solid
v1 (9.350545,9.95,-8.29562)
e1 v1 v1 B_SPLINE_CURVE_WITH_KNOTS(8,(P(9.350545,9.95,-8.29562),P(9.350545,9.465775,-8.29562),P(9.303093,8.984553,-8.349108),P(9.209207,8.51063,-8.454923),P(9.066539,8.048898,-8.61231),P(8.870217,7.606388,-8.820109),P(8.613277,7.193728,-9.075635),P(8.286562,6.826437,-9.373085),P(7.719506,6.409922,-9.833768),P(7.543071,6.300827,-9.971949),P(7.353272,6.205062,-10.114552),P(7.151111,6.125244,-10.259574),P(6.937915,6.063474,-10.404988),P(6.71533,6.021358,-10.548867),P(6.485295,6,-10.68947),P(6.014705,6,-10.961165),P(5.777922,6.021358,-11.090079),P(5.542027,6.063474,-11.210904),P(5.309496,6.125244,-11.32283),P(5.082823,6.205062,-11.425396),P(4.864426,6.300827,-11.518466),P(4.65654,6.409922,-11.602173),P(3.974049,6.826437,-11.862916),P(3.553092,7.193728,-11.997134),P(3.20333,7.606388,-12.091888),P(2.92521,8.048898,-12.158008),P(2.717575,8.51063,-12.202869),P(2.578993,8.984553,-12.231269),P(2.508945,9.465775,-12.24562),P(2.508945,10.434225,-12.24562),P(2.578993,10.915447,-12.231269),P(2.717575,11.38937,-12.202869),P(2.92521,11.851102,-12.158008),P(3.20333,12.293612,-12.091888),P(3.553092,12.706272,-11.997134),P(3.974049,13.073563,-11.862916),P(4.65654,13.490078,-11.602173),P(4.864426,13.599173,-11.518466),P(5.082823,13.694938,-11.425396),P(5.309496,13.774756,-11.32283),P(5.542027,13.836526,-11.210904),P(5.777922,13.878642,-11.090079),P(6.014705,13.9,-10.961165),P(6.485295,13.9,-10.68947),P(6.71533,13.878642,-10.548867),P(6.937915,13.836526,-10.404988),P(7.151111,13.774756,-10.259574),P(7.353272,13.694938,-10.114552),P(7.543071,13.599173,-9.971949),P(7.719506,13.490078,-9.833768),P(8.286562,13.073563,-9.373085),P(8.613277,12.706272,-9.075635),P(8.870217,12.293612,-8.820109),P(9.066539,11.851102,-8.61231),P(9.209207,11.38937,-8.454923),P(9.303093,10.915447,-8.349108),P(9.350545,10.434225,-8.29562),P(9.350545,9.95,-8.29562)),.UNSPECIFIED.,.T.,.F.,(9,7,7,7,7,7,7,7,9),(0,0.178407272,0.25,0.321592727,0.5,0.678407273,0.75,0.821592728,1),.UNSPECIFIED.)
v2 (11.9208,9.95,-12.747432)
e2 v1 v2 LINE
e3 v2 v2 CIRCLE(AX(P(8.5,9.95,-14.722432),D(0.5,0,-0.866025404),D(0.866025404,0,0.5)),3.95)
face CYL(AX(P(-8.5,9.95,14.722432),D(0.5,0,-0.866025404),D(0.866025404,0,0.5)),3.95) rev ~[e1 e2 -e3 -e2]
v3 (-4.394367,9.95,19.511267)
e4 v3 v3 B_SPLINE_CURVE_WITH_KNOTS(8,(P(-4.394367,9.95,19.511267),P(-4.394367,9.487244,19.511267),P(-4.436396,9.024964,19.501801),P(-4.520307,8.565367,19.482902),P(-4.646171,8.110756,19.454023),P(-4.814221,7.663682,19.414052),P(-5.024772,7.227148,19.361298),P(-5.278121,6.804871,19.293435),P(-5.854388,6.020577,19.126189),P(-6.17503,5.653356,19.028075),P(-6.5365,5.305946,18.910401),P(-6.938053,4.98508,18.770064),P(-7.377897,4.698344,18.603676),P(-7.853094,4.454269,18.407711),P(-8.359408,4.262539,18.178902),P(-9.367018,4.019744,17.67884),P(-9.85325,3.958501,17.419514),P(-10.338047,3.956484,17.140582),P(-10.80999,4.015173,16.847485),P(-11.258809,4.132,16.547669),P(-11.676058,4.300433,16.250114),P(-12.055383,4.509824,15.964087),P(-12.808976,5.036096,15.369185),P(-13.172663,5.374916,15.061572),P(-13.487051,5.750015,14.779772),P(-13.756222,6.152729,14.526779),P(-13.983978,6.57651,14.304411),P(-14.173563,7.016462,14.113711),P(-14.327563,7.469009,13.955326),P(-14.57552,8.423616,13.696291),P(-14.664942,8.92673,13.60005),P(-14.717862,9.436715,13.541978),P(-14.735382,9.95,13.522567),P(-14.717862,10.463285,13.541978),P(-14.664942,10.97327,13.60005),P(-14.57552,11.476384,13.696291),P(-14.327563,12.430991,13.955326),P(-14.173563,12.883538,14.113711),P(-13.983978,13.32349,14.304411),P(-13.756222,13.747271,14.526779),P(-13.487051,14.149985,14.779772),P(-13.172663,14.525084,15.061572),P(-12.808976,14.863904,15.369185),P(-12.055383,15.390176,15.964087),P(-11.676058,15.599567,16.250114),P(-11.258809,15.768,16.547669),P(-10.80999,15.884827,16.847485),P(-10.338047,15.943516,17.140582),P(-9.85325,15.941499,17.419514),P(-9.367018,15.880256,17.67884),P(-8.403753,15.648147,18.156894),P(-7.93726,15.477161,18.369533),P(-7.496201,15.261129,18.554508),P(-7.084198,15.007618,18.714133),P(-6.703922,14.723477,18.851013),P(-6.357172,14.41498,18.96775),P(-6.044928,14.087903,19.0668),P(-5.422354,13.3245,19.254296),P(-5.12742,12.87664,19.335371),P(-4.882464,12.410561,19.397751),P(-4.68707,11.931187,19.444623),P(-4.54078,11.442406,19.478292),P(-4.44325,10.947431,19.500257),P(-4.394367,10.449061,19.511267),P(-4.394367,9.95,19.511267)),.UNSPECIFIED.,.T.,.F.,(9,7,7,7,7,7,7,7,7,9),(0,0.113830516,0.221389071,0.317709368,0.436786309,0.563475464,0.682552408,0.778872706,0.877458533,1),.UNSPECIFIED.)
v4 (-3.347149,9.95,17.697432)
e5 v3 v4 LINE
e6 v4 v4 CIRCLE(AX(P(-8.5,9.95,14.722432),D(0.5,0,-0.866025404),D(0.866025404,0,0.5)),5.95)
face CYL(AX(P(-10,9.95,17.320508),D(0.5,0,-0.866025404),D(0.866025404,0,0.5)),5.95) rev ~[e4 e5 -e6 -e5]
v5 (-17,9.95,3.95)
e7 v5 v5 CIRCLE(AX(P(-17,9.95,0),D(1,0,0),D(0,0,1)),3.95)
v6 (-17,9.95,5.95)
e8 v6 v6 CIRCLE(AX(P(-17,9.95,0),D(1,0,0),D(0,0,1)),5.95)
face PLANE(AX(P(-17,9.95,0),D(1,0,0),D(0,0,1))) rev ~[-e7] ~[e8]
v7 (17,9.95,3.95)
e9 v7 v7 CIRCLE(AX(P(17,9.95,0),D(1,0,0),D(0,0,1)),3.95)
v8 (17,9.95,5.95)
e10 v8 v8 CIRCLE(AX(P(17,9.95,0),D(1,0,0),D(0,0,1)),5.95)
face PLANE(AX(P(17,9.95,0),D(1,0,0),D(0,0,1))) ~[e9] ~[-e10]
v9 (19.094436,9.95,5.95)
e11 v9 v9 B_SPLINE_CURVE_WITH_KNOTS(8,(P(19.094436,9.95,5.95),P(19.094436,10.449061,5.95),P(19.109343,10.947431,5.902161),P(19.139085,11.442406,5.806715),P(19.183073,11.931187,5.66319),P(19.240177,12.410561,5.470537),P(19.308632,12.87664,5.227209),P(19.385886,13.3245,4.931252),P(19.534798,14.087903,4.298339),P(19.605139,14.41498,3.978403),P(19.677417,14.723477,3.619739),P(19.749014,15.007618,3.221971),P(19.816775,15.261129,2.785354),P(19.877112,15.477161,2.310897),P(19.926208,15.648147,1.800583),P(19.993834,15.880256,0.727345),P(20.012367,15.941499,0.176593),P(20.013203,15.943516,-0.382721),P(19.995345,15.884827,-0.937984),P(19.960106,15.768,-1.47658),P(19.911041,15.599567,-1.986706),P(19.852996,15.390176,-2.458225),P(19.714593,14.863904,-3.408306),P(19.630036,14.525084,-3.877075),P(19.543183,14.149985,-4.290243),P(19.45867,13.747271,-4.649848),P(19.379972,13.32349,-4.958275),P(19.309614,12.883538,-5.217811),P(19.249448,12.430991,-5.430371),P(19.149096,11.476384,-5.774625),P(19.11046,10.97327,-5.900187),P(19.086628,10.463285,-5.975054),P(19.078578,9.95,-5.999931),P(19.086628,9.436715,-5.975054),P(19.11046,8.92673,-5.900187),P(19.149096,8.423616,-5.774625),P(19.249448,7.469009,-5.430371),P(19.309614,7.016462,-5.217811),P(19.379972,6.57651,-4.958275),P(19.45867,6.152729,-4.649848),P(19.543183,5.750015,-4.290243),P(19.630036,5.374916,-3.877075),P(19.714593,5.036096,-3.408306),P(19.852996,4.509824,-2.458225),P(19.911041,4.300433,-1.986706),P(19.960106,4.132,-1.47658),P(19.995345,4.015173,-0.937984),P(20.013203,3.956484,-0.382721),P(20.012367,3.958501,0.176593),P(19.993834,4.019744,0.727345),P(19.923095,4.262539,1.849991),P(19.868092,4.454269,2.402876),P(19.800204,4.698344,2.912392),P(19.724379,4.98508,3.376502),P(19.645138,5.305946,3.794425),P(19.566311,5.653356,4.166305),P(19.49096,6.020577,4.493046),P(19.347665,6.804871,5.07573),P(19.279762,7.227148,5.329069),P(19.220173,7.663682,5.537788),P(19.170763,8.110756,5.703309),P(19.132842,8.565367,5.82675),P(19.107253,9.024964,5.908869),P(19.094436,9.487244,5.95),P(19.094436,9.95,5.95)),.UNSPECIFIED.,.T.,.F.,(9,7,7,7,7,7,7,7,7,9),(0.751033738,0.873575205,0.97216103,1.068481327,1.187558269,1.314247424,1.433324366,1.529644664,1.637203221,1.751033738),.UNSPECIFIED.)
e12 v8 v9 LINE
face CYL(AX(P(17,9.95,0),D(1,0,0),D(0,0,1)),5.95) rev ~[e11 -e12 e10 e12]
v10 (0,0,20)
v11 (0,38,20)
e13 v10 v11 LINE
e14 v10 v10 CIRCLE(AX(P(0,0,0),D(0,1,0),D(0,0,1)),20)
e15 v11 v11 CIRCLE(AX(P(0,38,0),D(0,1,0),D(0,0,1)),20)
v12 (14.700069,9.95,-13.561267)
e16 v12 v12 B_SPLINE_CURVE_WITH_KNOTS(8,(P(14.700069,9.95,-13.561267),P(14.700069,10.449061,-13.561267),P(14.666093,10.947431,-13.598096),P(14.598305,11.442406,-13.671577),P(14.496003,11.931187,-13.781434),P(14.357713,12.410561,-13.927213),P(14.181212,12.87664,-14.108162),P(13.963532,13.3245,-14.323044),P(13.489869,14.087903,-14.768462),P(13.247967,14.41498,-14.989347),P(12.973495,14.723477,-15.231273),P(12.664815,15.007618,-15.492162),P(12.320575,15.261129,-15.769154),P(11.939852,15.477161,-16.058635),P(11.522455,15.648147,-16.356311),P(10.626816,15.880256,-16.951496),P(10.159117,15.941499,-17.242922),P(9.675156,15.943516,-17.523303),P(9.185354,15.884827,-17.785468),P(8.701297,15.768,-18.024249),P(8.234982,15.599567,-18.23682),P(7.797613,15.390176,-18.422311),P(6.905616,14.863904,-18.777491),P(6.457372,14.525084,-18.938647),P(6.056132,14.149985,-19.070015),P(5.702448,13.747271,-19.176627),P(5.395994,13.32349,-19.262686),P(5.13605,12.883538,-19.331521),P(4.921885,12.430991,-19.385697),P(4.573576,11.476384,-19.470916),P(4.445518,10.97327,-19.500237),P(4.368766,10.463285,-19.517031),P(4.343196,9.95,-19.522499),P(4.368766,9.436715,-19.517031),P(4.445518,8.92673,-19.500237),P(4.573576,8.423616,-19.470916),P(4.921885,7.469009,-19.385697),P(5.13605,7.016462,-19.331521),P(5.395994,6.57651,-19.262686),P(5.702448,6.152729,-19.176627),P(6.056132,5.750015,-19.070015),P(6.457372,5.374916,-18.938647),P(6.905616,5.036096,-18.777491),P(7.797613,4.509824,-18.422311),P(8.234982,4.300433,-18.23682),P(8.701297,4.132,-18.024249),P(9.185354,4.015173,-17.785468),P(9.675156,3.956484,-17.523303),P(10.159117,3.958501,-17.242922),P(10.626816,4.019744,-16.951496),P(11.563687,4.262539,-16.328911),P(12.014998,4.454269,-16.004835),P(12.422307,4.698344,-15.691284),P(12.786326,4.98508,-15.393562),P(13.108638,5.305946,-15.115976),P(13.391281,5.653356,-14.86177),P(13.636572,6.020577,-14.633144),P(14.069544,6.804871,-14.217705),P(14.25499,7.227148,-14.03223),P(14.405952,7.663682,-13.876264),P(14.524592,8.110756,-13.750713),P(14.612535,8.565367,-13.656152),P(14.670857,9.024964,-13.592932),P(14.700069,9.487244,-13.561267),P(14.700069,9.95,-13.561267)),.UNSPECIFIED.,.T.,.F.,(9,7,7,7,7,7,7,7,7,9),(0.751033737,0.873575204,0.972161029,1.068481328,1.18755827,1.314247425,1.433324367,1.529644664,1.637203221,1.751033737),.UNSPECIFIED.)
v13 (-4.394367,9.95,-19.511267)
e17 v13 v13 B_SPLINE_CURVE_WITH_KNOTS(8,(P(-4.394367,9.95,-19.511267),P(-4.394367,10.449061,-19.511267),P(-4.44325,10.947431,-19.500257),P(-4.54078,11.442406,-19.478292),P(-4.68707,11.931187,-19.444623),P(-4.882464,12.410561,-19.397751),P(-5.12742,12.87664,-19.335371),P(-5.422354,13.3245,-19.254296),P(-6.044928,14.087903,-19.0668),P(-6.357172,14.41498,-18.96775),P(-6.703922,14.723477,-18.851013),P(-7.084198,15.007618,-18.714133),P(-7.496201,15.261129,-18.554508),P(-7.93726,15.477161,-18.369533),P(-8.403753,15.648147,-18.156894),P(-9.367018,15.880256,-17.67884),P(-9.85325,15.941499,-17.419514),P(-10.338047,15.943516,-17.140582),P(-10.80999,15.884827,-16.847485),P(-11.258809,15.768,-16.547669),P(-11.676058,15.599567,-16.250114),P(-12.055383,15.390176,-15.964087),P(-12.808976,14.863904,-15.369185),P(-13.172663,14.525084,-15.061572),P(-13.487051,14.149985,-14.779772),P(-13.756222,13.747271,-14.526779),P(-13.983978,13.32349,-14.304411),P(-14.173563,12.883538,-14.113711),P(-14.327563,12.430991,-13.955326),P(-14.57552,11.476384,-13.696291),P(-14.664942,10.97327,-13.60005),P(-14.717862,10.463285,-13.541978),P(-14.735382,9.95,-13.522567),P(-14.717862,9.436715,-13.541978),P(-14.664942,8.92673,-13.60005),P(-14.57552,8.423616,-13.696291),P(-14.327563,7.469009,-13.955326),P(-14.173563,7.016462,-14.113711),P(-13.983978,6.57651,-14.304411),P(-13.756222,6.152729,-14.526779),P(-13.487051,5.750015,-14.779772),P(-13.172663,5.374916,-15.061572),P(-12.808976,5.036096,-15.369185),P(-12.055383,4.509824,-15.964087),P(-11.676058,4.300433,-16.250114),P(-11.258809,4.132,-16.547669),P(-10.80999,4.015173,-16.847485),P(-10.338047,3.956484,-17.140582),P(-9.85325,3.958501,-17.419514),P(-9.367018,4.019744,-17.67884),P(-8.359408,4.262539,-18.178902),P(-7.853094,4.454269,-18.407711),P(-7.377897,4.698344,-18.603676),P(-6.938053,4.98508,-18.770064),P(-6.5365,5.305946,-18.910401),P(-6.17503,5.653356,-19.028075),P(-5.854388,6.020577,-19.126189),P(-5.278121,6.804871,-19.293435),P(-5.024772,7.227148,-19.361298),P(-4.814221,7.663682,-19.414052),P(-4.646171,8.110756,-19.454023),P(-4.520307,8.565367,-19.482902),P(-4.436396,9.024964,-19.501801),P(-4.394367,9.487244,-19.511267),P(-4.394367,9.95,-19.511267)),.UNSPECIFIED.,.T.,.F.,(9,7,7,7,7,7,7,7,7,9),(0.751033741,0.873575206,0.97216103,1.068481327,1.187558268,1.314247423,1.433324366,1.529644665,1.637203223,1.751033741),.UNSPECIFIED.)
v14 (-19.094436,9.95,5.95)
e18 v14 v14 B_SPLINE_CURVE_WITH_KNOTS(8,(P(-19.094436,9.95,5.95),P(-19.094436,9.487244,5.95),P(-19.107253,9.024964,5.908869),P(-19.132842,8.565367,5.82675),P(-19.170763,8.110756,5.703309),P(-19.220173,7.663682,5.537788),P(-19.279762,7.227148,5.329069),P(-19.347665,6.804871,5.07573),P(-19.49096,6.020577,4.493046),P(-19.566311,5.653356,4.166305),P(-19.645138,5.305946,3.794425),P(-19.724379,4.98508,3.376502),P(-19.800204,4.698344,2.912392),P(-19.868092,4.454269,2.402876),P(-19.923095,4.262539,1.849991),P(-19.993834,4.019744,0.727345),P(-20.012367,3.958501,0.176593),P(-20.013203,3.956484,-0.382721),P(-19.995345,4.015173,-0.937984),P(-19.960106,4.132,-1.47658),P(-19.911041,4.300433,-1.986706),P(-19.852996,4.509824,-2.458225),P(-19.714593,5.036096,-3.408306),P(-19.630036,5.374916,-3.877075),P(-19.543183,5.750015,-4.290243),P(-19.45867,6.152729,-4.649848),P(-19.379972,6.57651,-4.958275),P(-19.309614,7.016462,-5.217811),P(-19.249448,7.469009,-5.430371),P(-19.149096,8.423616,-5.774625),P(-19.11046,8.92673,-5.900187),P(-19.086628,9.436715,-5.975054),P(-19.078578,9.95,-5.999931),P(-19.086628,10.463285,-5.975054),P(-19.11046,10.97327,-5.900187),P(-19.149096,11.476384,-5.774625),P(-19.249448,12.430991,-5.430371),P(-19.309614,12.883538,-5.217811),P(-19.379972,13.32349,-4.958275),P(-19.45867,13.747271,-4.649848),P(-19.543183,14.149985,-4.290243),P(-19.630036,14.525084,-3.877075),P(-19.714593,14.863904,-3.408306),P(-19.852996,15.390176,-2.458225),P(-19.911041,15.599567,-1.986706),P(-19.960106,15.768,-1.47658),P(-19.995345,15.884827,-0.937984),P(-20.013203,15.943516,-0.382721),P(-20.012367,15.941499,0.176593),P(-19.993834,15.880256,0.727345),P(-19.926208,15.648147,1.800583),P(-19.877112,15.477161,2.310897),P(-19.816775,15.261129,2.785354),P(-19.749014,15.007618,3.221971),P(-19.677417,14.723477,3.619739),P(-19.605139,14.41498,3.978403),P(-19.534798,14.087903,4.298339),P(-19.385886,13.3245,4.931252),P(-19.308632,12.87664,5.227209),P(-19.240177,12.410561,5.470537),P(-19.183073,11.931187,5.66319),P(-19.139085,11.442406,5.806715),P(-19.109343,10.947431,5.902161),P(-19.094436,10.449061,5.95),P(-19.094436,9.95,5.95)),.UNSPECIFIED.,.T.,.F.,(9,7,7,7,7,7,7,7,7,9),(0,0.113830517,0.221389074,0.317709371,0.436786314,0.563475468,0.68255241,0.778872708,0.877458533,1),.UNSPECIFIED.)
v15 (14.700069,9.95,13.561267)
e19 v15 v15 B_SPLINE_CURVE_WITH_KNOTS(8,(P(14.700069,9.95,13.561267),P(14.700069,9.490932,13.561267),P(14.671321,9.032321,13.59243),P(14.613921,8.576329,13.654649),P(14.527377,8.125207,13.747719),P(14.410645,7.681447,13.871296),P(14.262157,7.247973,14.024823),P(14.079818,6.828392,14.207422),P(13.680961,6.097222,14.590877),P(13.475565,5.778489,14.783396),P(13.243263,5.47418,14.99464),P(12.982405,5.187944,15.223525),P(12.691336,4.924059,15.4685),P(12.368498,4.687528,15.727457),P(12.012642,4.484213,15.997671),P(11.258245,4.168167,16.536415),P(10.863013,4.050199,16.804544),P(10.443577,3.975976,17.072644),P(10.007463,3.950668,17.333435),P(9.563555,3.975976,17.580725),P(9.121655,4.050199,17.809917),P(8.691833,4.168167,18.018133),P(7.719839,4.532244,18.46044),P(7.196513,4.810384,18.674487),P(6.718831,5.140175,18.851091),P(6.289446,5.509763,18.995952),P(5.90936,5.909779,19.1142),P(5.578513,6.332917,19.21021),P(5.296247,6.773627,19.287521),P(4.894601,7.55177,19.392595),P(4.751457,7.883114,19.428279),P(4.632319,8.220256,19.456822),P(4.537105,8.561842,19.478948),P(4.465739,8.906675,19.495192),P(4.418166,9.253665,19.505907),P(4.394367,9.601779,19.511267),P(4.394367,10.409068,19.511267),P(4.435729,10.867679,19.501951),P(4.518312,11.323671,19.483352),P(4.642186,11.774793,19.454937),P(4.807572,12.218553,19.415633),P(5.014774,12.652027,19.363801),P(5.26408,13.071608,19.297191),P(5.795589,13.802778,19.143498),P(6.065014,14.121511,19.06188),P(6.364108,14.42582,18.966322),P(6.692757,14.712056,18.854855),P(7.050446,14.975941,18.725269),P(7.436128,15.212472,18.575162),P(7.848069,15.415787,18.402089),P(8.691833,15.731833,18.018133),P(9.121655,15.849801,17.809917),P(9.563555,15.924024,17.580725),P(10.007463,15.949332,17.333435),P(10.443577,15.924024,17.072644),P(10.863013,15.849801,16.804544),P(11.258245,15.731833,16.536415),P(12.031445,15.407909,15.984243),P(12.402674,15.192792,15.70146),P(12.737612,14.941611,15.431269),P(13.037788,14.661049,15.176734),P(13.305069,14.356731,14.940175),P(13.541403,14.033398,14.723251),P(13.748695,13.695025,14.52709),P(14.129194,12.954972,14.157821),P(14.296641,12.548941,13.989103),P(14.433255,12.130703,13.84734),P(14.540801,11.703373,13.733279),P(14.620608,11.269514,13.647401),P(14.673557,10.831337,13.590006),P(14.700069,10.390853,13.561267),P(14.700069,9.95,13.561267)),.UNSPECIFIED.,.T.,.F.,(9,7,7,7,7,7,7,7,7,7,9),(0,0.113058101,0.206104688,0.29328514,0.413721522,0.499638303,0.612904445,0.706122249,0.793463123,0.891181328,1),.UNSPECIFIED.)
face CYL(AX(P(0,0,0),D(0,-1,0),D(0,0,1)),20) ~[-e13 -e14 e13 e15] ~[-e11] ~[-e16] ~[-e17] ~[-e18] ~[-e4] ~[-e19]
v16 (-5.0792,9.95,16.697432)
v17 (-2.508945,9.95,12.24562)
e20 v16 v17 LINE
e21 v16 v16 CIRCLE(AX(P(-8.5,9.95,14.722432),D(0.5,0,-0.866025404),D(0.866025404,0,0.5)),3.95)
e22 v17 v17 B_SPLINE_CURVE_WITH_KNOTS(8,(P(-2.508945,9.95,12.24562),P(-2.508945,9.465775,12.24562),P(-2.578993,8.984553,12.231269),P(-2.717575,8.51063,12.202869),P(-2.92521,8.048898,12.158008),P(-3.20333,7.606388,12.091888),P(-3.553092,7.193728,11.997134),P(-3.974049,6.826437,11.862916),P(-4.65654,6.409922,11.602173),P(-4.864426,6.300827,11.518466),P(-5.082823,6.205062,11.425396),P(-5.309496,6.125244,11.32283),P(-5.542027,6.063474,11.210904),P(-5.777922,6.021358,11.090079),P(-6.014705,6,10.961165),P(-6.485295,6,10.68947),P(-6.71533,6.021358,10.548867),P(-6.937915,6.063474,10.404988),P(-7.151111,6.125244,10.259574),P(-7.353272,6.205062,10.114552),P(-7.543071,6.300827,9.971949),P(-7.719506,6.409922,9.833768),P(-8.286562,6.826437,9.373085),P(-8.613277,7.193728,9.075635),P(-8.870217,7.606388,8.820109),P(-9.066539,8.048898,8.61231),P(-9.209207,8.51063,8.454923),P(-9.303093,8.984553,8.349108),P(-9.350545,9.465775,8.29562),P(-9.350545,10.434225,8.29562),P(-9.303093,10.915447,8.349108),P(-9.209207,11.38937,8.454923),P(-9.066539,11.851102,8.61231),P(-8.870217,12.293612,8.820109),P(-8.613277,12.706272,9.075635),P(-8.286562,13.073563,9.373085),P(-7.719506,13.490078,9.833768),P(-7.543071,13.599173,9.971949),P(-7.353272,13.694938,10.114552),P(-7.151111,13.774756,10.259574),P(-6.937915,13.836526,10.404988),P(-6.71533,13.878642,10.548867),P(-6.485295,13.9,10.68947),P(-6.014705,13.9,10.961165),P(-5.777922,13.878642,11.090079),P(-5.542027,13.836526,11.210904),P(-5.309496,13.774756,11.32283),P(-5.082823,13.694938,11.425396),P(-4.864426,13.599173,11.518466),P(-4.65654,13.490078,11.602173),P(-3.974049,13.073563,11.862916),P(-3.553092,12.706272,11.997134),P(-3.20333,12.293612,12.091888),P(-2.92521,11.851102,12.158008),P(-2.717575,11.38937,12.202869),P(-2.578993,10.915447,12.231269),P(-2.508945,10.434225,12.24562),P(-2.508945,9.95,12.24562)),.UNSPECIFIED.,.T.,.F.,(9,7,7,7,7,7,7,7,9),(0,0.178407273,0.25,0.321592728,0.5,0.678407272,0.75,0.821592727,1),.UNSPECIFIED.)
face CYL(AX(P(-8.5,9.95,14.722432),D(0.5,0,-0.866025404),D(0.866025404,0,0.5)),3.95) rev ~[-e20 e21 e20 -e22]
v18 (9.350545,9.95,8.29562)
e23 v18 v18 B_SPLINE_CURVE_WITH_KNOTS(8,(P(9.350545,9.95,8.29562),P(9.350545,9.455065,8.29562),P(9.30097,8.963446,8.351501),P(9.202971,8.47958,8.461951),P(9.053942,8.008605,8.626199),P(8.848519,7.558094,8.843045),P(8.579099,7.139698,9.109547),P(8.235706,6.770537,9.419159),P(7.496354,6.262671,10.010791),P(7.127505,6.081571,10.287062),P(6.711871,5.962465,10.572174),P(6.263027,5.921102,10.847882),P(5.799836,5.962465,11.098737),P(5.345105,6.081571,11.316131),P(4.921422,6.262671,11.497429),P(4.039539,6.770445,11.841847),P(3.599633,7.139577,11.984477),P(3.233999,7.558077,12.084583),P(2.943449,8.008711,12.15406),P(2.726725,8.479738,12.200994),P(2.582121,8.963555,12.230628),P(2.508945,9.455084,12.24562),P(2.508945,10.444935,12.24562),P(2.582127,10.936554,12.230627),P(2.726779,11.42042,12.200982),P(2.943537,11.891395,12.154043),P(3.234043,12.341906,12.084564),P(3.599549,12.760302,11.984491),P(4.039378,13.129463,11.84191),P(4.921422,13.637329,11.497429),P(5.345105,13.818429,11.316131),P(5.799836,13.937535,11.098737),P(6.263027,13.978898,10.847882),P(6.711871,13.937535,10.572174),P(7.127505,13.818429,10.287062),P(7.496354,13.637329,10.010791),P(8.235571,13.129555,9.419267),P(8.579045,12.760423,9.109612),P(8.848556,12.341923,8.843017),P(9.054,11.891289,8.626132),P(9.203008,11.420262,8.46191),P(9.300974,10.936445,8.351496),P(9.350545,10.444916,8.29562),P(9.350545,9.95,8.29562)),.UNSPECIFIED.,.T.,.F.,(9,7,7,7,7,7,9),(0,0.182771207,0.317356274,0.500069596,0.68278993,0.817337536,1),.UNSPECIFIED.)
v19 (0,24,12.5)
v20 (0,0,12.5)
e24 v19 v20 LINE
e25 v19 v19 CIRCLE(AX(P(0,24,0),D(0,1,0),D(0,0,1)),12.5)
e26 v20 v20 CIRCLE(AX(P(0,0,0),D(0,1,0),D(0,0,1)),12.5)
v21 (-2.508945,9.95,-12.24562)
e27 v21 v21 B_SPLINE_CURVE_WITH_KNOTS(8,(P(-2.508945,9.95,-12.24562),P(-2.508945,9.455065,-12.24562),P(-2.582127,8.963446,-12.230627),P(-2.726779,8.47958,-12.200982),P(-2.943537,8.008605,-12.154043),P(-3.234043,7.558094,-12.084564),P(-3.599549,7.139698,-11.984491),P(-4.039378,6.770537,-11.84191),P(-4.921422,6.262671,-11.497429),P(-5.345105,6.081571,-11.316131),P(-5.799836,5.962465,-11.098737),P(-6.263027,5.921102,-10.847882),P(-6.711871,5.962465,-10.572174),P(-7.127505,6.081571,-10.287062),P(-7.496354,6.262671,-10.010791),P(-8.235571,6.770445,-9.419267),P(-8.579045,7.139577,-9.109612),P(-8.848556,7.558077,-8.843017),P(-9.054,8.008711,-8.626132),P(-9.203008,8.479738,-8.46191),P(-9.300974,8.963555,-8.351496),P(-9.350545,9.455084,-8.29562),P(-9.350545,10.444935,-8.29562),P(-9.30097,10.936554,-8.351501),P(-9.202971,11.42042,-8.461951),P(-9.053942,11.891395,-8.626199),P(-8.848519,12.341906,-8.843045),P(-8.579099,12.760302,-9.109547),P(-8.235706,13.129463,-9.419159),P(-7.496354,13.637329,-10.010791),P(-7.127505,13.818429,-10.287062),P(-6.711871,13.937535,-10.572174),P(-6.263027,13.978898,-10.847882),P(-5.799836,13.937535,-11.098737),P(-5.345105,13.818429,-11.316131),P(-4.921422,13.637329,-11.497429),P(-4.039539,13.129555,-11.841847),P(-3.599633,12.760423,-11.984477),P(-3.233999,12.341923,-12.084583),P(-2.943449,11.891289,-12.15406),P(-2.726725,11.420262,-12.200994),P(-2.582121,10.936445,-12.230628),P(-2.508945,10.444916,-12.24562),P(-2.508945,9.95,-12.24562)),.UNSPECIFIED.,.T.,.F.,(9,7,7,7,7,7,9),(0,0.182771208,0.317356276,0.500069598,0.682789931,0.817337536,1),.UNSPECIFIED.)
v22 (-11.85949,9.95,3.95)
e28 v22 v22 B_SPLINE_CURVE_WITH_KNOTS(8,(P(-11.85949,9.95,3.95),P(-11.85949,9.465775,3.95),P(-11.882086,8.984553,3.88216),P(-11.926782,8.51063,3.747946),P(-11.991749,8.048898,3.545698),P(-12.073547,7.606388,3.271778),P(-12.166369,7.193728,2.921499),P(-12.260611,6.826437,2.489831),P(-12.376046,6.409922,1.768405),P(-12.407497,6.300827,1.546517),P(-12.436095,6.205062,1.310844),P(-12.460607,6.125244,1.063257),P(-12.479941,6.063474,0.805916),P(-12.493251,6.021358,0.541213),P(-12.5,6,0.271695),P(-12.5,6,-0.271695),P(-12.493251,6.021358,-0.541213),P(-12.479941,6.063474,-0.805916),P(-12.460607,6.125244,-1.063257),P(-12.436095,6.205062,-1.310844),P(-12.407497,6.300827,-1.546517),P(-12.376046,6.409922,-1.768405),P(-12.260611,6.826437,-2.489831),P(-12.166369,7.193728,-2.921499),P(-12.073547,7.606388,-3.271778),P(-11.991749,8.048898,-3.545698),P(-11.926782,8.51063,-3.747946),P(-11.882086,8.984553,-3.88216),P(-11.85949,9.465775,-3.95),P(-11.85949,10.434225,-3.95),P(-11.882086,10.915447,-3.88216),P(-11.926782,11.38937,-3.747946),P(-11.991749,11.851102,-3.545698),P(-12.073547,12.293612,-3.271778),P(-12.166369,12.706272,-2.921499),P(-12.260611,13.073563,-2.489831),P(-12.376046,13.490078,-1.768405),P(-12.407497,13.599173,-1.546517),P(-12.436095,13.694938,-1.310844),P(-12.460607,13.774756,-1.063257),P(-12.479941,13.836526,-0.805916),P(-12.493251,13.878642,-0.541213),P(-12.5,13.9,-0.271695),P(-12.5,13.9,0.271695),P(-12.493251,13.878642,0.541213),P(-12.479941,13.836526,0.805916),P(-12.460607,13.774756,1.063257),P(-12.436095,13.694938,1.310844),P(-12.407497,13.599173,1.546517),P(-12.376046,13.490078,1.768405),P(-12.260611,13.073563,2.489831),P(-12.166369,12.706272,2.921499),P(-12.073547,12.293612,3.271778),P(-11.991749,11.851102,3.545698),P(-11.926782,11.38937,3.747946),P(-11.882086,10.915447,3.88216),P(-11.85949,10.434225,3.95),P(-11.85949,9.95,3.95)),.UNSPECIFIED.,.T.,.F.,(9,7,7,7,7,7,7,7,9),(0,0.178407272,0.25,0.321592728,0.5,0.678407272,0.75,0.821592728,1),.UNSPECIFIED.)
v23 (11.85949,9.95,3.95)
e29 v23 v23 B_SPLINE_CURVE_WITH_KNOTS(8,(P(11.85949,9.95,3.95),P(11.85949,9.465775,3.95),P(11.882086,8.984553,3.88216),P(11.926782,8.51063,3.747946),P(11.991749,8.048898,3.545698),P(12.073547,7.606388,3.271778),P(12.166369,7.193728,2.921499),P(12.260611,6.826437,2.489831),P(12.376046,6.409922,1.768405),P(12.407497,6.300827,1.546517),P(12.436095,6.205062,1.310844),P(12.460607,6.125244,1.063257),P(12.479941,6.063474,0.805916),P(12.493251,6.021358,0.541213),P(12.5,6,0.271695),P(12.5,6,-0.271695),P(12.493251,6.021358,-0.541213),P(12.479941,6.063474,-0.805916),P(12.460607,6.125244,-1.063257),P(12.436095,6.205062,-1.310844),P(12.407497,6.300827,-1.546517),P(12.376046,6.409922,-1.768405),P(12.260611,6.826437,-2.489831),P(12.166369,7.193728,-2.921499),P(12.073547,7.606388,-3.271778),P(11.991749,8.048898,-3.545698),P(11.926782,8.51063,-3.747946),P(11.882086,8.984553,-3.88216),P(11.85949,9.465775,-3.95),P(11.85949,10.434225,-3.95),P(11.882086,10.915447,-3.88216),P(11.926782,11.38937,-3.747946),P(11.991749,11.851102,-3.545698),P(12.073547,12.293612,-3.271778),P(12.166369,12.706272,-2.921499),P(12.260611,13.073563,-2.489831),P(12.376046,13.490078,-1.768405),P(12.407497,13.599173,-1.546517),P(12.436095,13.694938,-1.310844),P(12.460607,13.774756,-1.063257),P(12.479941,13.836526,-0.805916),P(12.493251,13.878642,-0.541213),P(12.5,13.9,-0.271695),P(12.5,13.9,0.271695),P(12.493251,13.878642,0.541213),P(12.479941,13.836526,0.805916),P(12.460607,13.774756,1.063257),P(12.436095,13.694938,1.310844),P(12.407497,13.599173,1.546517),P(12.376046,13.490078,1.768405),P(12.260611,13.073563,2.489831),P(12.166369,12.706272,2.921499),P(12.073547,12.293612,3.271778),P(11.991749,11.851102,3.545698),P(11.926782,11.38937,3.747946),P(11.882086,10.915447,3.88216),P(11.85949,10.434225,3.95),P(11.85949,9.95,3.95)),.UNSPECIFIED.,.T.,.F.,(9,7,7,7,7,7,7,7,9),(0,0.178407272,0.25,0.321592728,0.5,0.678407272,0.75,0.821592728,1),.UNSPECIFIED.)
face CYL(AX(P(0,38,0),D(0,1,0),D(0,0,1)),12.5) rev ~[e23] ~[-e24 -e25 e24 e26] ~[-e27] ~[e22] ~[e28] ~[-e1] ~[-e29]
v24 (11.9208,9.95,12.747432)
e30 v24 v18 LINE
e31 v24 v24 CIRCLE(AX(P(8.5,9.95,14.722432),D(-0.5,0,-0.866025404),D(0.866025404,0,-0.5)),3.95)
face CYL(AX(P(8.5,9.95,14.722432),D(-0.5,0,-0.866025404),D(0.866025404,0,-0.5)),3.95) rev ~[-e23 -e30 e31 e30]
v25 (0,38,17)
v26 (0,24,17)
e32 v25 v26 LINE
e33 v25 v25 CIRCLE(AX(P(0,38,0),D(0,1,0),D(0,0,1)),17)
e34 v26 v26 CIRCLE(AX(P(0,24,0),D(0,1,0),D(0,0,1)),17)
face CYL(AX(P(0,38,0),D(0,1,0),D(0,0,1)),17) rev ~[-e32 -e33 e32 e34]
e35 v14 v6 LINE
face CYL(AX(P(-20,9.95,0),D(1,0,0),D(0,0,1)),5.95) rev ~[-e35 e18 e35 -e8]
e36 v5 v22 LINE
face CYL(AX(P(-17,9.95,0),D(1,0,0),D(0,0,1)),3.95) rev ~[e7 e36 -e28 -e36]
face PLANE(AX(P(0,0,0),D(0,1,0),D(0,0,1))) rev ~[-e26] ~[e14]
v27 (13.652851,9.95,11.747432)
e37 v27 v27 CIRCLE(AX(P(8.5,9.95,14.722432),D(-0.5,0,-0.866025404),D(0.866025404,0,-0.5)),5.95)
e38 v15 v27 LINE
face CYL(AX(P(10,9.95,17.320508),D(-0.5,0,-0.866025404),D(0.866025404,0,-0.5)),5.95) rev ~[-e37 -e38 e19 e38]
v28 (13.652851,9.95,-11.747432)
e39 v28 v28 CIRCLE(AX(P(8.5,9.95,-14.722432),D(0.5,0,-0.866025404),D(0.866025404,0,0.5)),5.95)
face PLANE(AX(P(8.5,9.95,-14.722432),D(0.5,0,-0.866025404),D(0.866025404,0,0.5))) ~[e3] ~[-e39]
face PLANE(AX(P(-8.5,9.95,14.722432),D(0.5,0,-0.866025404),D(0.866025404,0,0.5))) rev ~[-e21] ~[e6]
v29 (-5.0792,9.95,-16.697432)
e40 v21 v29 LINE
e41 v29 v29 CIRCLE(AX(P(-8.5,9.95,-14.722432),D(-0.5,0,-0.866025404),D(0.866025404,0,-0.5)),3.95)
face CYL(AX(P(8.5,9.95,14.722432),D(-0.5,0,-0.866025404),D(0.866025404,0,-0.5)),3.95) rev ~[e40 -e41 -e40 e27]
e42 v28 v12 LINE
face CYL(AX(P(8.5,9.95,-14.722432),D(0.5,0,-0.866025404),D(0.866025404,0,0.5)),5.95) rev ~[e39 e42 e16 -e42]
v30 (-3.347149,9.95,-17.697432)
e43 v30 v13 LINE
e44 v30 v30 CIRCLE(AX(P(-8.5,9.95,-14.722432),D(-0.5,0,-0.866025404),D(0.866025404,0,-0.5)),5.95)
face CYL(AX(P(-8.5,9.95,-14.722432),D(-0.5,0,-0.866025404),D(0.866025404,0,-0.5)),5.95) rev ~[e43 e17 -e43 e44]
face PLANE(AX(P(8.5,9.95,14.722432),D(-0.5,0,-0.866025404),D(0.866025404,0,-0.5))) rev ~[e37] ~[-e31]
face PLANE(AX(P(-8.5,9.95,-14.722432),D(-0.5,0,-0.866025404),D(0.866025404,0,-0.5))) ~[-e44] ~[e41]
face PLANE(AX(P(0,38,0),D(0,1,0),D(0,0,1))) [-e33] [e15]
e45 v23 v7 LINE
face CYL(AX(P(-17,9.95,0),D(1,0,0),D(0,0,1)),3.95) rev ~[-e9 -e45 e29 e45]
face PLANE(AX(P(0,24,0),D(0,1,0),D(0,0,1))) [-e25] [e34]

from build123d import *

# Parameters (mm, degrees)
SKETCH1_R           = 20
BOSS_EXTRUDE1_DEPTH = 38
SKETCH2_R           = 12.5
CUT_EXTRUDE1_DEPTH  = 38
SKETCH3_R           = 17
CUT_EXTRUDE2_DEPTH  = 14


with BuildPart() as part:
    # Sketch1 → Boss-Extrude1 (new body)
    with BuildSketch(Plane(origin=(0, 0, 0), x_dir=(1, 0, 0), z_dir=(0, 1, 0))):
        with Locations(Location((0, 0, 0), (0, 0, 270))):
            Circle(SKETCH1_R)
    extrude(amount=BOSS_EXTRUDE1_DEPTH)

    # Sketch2 → Cut-Extrude1 (cut)
    with BuildSketch(Plane(origin=(0, 38, 0), x_dir=(1, 0, 0), z_dir=(0, 1, 0))):
        with Locations(Location((0, 0, 0), (0, 0, 270))):
            Circle(SKETCH2_R)
    extrude(amount=-CUT_EXTRUDE1_DEPTH, mode=Mode.SUBTRACT)

    # Sketch3 → Cut-Extrude2 (cut)
    with BuildSketch(Plane(origin=(0, 38, 0), x_dir=(1, 0, 0), z_dir=(0, 1, 0))):
        with Locations(Location((0, 0, 0), (0, 0, 270))):
            Circle(SKETCH3_R)
    extrude(amount=-CUT_EXTRUDE2_DEPTH, mode=Mode.SUBTRACT)

    # Sketch7 → Cut-Revolve4 (revolve, cut)
    with BuildSketch(Plane.XY, mode=Mode.PRIVATE) as cut_revolve4_sk:
        Polygon((-17, 6), (17, 6), (17, 4), (20, 4), (20, 9.95), (-20, 9.95), (-20, 4), (-17, 4), align=None)
    revolve(cut_revolve4_sk.sketch.rotate(Axis((-20, 9.95, 0), (1, 0, 0)), 270), axis=Axis((-20, 9.95, 0), (1, 0, 0)), mode=Mode.SUBTRACT)

    # Sketch10 → Cut-Revolve5 (revolve, cut)
    with BuildSketch(Plane(origin=(0, 0, 0), x_dir=(-0.5000000000000039, 0, -0.8660254037844365), z_dir=(0.8660254037844364, 0, -0.5000000000000038)), mode=Mode.PRIVATE) as cut_revolve5_sk:
        Polygon((-17, 6), (17, 6), (17, 4), (20, 4), (20, 9.95), (-20, 9.95), (-20, 4), (-17, 4), align=None)
    revolve(cut_revolve5_sk.sketch.rotate(Axis((10, 9.95, 17.320508076), (-0.5000000000000039, 0, -0.8660254037844365)), 270), axis=Axis((10, 9.95, 17.320508076), (-0.5000000000000039, 0, -0.8660254037844365)), mode=Mode.SUBTRACT)

    # Sketch11 → Cut-Revolve6 (revolve, cut)
    with BuildSketch(Plane(origin=(0, 0, 0), x_dir=(0.49999999999999833, 0, -0.8660254037844396), z_dir=(0.8660254037844397, 0, 0.4999999999999984)), mode=Mode.PRIVATE) as cut_revolve6_sk:
        Polygon((-17, 6), (17, 6), (17, 4), (20, 4), (20, 9.95), (-20, 9.95), (-20, 4), (-17, 4), align=None)
    revolve(cut_revolve6_sk.sketch.rotate(Axis((-10, 9.95, 17.320508076), (0.49999999999999833, 0, -0.8660254037844397)), 270), axis=Axis((-10, 9.95, 17.320508076), (0.49999999999999833, 0, -0.8660254037844397)), mode=Mode.SUBTRACT)


solid = part.part
